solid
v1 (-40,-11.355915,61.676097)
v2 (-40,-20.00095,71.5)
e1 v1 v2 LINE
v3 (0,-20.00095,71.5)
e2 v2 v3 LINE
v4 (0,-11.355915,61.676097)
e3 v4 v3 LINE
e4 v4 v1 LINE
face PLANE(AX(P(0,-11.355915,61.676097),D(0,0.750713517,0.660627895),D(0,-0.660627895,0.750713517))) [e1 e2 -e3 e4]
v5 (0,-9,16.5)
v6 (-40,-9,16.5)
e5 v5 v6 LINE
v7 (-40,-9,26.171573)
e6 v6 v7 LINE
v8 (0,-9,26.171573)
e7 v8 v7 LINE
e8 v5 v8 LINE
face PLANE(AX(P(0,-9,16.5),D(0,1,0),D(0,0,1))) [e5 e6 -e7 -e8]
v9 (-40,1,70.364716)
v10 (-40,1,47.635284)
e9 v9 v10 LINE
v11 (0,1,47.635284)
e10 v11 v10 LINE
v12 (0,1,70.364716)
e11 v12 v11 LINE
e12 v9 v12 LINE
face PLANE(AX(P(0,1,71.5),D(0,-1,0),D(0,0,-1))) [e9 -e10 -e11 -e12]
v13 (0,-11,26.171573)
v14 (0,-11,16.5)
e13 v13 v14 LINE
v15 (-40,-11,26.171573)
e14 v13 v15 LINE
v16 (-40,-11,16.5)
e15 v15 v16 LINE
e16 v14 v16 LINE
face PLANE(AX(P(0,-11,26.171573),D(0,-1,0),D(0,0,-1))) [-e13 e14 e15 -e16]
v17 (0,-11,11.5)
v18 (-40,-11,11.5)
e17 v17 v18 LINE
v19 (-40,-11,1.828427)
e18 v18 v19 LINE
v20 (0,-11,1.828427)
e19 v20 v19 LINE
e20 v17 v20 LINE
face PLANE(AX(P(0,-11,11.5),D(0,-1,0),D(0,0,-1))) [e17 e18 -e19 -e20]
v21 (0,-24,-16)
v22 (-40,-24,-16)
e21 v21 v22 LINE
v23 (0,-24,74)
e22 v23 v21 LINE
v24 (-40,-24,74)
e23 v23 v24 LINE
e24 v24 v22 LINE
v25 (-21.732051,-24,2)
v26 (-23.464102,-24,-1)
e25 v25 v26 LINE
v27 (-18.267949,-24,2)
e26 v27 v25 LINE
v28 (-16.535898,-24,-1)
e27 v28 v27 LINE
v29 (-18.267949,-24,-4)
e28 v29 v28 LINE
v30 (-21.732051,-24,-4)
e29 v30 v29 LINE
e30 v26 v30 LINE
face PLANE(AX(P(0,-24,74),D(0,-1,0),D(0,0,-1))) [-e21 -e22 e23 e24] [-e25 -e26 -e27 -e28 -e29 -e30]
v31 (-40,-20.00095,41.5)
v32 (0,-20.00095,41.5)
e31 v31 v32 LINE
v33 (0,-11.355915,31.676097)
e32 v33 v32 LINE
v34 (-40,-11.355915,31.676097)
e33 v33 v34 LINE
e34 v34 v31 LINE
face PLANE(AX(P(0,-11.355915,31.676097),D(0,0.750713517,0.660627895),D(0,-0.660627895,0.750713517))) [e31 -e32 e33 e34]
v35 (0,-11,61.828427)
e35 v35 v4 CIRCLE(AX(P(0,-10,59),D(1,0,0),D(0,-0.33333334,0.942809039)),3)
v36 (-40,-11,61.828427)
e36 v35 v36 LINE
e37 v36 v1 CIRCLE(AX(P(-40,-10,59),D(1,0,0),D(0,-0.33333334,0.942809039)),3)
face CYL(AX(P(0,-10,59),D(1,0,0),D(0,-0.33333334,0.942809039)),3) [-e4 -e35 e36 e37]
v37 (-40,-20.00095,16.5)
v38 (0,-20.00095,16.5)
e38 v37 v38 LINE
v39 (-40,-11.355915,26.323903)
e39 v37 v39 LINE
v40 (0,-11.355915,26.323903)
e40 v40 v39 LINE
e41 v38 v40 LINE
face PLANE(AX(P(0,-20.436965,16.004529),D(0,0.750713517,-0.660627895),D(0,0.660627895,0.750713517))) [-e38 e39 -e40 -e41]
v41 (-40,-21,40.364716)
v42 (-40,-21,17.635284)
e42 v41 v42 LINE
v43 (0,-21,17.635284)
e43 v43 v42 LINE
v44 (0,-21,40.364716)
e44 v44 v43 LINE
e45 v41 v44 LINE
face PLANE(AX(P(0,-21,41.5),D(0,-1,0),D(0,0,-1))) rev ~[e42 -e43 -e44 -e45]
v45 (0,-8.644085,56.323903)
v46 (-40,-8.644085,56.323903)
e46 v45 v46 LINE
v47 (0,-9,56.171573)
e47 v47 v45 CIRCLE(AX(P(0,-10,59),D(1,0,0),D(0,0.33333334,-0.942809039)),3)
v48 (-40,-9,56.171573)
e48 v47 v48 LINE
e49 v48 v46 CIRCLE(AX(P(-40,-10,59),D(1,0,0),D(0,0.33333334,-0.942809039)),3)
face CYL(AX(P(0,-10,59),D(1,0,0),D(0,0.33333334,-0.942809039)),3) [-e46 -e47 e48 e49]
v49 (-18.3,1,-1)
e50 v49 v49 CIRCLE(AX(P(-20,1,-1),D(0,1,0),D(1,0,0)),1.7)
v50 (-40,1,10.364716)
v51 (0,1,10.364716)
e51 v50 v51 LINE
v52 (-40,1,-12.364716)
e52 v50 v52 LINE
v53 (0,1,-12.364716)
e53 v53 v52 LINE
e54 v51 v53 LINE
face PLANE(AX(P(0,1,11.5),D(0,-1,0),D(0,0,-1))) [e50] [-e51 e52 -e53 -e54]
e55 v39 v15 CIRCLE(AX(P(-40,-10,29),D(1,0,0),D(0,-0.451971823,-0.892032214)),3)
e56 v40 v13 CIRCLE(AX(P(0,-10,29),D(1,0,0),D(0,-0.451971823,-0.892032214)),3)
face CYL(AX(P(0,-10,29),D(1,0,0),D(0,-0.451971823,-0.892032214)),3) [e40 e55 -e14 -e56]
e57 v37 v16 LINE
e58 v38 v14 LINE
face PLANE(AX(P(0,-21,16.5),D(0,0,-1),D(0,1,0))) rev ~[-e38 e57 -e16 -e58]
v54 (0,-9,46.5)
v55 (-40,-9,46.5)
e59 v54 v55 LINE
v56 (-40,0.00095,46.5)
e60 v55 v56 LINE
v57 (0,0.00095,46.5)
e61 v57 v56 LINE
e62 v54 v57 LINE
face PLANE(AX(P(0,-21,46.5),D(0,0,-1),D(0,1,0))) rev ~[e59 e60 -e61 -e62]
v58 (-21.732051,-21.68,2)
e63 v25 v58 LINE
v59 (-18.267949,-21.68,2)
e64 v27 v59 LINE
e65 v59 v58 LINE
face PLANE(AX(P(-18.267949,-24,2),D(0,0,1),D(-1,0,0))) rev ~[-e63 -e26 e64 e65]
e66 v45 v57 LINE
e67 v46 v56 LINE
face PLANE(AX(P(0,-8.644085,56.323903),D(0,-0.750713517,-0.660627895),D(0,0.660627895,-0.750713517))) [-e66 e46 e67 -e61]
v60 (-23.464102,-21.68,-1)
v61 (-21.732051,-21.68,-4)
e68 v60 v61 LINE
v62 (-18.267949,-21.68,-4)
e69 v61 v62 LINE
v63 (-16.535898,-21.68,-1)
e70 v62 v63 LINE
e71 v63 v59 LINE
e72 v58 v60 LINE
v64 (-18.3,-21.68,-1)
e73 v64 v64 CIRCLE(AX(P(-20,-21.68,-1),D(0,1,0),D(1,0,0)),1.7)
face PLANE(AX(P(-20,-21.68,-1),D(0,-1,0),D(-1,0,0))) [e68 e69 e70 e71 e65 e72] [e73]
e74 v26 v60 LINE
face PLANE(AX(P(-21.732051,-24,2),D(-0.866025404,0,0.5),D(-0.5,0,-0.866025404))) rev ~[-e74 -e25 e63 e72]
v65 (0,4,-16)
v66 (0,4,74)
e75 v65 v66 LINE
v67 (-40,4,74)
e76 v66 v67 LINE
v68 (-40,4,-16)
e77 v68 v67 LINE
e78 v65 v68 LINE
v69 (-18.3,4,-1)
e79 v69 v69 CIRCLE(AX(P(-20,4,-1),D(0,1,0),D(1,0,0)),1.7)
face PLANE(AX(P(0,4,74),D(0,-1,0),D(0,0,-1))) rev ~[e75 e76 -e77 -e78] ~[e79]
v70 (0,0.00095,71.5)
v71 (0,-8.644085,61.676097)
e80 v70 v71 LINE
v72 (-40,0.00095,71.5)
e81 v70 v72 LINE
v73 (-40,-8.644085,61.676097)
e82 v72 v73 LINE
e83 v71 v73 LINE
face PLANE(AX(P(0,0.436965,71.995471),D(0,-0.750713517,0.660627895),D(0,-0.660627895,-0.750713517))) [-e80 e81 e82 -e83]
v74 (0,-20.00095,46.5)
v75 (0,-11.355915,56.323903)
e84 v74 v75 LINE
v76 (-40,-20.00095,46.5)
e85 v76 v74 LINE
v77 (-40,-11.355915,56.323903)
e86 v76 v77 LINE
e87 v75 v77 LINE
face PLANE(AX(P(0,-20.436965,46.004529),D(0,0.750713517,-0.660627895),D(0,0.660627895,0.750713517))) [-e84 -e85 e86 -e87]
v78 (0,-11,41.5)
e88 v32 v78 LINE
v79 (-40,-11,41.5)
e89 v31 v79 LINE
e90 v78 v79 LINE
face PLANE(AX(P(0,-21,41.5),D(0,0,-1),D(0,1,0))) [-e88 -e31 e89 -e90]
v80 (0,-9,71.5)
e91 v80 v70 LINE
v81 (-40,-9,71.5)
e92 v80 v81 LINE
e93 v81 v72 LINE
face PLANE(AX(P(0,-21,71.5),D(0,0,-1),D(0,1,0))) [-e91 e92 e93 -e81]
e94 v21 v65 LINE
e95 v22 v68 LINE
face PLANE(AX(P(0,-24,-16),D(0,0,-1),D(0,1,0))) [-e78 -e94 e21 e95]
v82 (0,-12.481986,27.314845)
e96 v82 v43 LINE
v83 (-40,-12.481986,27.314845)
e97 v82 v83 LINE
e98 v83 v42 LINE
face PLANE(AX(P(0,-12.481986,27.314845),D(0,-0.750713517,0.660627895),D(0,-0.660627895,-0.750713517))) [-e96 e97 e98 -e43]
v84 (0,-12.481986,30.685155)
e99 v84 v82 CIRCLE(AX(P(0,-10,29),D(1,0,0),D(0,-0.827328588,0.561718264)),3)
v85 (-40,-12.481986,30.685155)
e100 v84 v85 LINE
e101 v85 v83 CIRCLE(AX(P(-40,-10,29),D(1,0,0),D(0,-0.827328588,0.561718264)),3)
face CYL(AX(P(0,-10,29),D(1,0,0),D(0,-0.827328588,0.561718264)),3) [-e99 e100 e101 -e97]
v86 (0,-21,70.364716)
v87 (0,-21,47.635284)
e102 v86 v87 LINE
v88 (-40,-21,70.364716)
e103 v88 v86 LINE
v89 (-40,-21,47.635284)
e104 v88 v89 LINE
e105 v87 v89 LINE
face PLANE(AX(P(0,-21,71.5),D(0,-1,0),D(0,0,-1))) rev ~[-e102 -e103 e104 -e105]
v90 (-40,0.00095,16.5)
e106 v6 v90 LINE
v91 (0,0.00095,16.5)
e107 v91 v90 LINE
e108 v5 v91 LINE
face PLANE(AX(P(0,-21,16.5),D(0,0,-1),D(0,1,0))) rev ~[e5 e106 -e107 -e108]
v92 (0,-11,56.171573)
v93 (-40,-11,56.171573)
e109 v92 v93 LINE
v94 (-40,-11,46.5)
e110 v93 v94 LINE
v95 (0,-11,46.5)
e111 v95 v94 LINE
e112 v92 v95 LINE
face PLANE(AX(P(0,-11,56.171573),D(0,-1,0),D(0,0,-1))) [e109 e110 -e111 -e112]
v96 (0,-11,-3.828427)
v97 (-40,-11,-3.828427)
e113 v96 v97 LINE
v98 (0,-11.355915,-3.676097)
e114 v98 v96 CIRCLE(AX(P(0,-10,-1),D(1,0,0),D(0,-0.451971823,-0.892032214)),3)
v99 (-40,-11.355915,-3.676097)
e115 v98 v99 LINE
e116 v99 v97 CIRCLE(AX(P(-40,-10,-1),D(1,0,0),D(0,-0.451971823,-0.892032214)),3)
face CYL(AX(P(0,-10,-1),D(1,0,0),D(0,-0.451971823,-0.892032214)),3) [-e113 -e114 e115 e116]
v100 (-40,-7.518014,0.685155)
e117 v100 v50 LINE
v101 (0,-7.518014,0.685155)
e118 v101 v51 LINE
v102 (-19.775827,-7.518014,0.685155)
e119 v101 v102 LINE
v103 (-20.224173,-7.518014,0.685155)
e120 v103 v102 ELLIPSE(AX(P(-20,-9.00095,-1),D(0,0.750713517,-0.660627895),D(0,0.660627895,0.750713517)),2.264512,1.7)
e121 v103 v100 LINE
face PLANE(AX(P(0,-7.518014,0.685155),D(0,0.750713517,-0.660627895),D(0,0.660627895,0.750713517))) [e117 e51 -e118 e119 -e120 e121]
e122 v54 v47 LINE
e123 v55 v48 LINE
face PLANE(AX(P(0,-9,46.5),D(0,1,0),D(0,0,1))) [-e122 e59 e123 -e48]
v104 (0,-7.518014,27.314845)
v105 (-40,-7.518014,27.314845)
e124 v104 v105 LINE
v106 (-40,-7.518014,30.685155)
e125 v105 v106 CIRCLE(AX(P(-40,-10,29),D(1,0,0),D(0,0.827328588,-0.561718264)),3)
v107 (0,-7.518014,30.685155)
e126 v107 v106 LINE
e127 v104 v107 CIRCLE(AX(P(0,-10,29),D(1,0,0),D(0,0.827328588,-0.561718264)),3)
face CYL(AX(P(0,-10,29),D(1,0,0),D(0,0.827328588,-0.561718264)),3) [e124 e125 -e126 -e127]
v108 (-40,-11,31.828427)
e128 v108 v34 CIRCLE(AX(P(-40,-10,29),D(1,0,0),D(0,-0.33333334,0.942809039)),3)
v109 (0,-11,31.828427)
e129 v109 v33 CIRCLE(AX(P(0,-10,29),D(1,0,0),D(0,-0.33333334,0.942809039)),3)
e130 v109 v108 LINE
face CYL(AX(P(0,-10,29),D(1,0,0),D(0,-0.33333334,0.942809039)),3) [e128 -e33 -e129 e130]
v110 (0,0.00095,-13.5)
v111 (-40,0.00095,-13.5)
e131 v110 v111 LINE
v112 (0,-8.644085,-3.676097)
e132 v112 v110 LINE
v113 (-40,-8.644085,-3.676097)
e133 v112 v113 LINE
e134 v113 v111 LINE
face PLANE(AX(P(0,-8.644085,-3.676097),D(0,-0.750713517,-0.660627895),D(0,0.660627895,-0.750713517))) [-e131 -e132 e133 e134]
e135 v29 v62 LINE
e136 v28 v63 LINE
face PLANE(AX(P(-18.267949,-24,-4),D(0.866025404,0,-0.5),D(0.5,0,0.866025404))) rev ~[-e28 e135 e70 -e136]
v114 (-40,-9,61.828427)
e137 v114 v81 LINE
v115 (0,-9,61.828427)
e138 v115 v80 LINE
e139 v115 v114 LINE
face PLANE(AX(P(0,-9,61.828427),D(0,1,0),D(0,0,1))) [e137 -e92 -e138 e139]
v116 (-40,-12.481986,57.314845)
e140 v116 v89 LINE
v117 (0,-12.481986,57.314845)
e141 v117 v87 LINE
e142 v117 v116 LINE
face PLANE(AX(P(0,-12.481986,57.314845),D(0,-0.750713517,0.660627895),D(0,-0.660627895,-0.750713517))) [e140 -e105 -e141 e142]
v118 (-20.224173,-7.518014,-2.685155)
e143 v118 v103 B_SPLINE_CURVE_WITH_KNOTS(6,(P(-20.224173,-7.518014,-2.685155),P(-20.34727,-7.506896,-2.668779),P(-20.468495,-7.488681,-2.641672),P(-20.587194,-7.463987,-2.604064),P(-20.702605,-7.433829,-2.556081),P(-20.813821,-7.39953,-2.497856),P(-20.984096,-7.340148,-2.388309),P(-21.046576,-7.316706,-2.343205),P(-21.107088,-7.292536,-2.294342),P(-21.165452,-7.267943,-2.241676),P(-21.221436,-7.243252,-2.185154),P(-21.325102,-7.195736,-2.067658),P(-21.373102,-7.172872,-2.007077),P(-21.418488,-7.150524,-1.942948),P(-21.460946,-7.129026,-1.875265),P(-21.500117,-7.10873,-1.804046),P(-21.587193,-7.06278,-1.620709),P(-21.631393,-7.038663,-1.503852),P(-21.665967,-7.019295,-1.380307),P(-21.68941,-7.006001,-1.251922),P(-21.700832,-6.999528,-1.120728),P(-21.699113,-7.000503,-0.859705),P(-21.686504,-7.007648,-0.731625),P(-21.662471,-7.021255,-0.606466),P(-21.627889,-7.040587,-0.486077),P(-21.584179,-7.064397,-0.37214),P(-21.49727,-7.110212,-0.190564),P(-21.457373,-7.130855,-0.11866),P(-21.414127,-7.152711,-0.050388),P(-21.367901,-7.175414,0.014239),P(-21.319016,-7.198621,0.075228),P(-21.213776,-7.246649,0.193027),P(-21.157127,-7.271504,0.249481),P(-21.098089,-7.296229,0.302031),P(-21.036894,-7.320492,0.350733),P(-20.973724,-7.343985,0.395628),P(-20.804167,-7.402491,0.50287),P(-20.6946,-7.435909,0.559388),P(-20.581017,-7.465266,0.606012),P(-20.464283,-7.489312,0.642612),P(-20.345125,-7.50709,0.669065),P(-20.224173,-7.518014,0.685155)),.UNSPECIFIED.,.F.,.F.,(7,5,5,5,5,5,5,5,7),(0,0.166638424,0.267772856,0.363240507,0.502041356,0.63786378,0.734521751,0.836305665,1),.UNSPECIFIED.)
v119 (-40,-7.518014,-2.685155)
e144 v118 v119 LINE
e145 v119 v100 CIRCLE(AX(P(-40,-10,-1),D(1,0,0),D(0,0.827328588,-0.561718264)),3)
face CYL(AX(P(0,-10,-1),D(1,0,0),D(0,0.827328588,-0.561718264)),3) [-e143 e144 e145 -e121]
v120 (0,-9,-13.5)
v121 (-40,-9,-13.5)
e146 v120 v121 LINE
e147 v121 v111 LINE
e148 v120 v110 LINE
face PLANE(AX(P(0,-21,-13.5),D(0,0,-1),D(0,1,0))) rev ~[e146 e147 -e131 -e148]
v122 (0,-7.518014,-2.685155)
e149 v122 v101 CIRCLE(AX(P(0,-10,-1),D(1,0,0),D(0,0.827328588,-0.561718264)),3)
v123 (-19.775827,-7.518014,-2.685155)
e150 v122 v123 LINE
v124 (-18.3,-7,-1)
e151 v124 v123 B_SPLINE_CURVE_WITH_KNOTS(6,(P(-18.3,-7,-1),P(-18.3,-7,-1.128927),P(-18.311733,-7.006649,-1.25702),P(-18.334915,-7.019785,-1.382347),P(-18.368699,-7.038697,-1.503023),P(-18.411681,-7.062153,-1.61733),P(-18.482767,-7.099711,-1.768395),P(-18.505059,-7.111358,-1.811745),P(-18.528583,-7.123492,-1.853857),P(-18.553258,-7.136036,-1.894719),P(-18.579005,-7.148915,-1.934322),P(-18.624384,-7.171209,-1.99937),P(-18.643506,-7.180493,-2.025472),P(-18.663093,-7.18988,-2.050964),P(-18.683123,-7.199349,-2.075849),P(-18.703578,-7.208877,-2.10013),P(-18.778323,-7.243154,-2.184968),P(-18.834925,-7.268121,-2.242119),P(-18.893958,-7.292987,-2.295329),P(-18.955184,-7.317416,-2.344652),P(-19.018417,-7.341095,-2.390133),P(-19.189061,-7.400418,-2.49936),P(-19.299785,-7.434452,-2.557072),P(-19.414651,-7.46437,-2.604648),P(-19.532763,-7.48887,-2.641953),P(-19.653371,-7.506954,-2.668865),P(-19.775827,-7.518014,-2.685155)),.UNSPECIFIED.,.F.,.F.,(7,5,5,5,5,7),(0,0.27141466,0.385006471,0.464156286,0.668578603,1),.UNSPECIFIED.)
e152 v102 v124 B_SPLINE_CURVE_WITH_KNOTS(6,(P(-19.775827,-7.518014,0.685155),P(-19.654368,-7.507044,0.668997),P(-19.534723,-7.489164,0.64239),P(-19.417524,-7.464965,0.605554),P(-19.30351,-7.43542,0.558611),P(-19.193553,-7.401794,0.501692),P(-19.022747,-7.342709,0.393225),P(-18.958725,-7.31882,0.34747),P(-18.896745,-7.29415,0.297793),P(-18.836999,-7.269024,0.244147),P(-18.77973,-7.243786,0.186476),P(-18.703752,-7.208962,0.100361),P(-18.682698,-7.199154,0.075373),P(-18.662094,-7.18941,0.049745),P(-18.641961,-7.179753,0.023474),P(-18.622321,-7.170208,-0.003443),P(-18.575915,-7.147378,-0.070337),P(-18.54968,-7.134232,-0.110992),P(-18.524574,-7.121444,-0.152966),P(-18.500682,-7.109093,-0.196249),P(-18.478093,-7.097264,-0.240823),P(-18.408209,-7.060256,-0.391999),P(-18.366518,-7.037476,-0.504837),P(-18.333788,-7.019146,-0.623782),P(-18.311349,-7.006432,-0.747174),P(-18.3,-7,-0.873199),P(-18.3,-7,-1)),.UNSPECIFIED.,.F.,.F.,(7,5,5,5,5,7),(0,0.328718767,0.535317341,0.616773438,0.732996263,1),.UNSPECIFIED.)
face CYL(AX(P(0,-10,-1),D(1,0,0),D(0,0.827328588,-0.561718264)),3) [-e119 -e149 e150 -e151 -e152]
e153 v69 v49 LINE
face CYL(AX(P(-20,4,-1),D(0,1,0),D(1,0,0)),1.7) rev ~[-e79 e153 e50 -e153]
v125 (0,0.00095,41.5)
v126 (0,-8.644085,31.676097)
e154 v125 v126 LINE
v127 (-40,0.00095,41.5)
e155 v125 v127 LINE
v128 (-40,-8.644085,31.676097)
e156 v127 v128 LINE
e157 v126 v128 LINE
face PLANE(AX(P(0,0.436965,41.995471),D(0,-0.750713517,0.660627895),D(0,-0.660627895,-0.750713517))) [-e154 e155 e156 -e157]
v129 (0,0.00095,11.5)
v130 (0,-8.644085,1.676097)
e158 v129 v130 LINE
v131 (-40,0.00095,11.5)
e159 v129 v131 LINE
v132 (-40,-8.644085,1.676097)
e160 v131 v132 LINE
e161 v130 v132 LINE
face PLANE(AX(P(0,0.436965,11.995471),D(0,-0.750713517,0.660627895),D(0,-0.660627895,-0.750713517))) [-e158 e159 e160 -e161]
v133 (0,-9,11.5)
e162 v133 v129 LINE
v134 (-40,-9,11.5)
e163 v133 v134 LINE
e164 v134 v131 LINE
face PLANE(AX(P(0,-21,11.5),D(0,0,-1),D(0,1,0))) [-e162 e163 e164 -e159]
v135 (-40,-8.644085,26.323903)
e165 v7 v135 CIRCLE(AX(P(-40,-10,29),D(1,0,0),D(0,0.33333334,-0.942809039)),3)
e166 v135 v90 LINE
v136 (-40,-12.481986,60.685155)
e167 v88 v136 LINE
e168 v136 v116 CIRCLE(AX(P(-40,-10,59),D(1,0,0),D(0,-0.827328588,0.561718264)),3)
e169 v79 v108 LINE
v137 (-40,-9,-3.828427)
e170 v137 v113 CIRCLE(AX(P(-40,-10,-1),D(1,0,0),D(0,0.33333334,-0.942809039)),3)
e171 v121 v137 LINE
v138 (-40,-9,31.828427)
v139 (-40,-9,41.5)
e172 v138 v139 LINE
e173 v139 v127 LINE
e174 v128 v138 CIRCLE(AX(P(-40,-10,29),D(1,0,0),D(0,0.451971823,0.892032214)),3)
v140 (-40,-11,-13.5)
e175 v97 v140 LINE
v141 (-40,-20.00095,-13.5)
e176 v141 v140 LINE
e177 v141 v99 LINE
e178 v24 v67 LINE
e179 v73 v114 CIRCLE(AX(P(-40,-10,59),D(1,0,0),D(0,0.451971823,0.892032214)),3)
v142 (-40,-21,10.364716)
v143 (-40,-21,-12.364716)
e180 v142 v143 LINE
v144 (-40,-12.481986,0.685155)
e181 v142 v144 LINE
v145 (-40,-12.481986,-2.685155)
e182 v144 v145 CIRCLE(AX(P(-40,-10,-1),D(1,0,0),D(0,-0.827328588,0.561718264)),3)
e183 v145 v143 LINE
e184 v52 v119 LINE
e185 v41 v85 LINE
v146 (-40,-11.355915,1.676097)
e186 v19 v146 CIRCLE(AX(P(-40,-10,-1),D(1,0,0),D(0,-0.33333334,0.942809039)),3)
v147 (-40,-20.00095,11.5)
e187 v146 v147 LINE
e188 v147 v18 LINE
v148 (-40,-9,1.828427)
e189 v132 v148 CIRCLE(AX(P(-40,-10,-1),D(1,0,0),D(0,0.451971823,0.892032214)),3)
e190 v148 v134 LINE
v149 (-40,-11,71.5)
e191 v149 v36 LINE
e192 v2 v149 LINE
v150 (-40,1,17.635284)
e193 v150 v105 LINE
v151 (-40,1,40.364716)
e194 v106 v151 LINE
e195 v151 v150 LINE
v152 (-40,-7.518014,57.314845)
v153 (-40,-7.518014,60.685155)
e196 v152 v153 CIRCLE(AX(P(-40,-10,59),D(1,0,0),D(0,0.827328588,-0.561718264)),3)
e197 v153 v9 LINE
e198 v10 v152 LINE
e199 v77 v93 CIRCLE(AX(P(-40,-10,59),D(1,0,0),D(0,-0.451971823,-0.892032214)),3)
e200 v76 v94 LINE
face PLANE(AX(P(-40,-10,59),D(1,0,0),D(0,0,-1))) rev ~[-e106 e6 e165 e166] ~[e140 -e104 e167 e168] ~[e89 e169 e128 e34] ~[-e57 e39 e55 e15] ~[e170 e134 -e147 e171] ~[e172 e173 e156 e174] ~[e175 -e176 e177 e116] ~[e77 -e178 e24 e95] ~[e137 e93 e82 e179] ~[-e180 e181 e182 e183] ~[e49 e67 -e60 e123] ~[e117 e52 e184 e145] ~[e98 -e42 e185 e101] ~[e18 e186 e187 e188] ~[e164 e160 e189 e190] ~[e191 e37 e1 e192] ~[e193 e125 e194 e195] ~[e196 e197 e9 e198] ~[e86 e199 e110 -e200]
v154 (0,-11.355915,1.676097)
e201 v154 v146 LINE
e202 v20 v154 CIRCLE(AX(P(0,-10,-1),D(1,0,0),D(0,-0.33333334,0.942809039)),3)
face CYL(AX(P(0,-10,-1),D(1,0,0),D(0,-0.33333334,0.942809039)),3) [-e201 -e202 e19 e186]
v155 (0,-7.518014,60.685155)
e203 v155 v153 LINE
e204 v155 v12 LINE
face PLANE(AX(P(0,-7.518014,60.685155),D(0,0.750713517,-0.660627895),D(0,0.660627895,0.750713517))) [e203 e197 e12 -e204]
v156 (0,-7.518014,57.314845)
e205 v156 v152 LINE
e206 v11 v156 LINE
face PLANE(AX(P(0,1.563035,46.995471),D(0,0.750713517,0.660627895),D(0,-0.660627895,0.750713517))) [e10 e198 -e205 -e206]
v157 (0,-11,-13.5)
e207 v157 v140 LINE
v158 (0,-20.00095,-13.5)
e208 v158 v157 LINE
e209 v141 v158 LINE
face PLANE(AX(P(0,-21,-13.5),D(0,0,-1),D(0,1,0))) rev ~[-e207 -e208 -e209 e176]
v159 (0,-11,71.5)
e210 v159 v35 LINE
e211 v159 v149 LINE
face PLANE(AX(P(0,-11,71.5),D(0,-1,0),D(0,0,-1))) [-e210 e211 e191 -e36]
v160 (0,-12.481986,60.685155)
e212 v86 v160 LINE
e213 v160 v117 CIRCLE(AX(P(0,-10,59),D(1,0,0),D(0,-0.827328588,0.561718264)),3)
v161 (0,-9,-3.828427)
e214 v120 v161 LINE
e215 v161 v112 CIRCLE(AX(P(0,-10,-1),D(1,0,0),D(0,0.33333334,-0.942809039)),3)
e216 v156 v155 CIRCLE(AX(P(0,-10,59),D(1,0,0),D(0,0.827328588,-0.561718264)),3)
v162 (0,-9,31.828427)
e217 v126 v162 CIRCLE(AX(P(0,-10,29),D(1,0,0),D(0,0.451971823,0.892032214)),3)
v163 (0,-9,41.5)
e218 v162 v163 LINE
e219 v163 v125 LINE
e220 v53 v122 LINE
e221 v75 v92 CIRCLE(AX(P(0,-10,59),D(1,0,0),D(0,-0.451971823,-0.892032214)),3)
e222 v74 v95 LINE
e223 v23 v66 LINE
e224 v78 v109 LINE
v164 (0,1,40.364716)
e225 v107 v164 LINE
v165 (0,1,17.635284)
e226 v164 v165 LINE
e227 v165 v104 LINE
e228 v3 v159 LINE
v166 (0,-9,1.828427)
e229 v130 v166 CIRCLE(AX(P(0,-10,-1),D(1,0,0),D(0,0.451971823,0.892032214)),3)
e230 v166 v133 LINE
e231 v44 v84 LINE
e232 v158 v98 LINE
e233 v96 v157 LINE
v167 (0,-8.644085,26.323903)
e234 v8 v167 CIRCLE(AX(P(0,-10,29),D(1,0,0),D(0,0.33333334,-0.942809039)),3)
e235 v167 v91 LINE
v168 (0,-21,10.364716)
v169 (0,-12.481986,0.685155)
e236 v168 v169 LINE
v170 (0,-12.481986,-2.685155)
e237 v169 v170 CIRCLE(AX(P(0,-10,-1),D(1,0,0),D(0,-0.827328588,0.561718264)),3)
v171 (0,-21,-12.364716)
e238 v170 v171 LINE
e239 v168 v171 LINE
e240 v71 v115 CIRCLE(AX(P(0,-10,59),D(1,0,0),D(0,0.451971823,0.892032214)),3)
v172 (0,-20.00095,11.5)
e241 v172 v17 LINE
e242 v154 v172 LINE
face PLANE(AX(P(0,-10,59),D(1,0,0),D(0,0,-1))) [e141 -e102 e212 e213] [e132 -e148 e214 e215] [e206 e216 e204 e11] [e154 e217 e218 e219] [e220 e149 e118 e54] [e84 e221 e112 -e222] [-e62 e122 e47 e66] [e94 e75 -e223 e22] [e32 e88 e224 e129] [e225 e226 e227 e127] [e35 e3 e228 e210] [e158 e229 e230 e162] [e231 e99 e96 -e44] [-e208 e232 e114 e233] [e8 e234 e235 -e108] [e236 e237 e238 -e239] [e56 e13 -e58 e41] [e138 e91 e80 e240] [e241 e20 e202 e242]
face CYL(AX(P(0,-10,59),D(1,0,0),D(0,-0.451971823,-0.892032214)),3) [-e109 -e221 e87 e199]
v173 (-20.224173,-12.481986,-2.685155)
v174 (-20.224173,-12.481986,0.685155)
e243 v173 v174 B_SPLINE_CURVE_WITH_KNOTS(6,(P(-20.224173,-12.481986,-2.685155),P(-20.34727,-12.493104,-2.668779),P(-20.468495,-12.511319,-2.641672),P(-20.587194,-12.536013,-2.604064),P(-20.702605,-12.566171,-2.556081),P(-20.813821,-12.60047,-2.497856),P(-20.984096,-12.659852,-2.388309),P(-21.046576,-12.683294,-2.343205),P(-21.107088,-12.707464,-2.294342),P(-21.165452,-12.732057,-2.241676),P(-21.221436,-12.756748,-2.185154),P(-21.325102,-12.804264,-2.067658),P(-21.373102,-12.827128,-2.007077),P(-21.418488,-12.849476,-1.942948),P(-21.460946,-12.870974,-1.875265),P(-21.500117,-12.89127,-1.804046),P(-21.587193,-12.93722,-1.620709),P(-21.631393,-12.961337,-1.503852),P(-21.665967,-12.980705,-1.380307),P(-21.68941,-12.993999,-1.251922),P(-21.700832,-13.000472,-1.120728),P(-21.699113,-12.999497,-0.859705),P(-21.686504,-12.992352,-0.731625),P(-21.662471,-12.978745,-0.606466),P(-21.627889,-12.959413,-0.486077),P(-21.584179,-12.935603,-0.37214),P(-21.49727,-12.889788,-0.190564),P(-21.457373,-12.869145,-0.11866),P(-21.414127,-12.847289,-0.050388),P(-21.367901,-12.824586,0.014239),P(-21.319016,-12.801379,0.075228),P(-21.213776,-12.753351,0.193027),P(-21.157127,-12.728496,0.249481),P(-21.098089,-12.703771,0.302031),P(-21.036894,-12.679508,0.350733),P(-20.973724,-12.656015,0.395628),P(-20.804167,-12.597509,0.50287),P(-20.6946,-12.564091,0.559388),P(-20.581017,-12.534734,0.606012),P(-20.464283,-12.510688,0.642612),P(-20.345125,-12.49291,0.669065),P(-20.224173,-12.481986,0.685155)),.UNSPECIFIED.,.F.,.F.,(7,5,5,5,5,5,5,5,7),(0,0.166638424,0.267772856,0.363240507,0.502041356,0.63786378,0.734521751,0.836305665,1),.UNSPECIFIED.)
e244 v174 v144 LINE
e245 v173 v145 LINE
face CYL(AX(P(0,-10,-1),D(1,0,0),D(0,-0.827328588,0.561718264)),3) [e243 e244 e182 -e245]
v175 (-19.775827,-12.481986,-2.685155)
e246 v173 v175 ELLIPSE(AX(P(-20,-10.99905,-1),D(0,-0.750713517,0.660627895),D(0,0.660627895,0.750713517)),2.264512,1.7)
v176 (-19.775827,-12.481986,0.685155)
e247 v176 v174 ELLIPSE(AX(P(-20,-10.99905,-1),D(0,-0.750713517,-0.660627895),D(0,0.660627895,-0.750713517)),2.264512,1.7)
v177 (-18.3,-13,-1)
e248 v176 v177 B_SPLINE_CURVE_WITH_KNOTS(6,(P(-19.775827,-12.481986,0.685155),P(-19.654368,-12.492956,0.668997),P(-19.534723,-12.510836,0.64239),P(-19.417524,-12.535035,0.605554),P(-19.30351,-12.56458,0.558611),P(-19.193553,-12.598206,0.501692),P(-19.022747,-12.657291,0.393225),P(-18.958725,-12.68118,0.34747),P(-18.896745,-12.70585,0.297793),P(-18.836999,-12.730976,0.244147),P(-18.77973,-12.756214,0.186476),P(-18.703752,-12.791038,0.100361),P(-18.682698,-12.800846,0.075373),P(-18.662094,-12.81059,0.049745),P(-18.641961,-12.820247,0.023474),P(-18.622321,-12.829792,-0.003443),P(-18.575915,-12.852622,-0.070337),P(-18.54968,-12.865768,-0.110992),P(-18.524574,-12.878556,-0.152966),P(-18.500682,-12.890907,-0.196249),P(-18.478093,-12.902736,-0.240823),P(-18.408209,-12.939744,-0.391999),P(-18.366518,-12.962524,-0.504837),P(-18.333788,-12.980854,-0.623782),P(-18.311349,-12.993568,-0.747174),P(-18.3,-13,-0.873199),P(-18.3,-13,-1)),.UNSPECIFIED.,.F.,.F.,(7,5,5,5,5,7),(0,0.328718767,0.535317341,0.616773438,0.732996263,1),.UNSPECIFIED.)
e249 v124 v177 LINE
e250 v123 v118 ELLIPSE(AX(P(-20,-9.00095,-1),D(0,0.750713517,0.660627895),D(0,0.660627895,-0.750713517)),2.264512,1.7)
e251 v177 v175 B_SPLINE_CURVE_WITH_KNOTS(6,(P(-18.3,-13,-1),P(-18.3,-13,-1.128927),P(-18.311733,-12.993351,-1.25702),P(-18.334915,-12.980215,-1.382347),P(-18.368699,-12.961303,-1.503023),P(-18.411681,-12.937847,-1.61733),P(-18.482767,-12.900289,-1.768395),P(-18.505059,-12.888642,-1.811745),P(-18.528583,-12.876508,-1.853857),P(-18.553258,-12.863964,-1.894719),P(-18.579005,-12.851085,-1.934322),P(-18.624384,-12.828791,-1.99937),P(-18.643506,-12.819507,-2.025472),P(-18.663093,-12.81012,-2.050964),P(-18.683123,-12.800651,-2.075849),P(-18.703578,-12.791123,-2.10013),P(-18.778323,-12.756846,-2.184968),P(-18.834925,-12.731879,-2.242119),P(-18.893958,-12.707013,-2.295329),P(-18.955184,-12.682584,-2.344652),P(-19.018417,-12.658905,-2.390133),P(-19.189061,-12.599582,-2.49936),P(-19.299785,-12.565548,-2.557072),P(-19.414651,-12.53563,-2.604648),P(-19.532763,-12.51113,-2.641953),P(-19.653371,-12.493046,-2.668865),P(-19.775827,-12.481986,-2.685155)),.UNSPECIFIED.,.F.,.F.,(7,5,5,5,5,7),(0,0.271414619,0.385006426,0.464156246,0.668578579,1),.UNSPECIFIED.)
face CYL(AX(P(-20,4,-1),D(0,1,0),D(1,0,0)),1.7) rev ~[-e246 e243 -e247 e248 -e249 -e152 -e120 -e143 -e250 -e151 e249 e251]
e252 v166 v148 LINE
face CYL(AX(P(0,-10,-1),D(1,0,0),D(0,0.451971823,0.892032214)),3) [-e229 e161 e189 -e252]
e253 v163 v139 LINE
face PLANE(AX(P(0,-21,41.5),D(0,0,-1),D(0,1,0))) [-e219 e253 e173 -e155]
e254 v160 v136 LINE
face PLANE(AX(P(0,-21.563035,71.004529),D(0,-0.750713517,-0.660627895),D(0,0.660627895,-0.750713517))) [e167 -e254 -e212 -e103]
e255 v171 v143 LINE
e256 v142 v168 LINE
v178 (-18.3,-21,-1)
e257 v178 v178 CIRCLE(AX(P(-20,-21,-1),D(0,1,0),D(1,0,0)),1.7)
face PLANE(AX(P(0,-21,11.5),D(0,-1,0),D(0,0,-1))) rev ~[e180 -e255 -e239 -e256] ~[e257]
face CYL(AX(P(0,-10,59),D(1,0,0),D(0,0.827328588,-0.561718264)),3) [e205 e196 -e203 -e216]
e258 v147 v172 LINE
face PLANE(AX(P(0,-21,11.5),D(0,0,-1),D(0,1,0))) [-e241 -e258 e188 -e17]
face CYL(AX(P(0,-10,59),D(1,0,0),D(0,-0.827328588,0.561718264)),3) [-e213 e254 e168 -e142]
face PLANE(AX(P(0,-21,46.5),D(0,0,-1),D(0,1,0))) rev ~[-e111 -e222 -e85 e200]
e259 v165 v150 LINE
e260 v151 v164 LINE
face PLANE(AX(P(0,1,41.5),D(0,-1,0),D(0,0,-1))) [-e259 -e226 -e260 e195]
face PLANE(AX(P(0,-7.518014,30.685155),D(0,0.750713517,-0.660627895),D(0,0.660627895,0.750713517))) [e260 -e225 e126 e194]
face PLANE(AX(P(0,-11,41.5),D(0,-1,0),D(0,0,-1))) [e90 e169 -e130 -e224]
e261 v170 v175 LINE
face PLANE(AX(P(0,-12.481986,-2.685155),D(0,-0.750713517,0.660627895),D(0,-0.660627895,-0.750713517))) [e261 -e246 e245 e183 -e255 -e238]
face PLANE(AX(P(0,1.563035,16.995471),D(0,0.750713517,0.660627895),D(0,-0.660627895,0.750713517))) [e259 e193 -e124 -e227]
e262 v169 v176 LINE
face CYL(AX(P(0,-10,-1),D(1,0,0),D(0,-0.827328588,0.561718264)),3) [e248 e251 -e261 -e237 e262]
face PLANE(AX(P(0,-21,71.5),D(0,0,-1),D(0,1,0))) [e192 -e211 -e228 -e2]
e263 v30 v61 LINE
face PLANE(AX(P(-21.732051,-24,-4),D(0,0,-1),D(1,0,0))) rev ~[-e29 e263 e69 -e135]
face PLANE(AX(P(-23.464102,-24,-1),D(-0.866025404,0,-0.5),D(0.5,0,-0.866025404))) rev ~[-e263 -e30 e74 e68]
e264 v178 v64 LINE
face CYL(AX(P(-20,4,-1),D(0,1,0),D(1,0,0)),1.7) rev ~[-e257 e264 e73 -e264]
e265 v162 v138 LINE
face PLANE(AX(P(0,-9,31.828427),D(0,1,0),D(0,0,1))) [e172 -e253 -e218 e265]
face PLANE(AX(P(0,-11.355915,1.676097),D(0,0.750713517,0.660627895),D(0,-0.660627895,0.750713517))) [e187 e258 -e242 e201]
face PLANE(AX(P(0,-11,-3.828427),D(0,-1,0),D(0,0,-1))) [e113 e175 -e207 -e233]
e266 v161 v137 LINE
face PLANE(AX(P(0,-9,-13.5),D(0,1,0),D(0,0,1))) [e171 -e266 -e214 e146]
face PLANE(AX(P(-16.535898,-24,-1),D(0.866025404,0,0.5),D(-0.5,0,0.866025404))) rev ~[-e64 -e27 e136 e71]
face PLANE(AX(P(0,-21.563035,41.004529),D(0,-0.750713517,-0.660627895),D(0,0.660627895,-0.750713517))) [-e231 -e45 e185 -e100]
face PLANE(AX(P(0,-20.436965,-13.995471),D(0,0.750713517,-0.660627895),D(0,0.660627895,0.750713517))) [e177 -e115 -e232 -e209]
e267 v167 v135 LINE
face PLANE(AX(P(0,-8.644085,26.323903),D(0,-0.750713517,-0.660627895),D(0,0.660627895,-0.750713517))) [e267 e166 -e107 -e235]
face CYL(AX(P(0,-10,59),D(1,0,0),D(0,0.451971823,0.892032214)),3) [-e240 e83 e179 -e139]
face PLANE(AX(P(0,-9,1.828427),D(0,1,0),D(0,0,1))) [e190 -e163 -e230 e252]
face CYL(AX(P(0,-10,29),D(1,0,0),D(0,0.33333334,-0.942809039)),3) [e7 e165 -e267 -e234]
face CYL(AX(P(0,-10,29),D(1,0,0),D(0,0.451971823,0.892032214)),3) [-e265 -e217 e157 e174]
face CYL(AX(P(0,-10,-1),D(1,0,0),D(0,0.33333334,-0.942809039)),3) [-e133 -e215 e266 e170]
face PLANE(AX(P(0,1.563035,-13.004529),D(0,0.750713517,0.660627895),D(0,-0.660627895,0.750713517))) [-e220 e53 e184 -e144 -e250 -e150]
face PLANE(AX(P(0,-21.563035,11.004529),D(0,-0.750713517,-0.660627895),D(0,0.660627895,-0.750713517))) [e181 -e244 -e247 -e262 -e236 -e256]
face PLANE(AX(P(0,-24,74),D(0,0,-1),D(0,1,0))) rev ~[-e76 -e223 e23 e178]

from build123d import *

# Parameters (mm, degrees)
SKETCH19_W          = 30
SKETCH19_H          = 28
SKETCH19_W_2        = 25
SKETCH19_H_2        = 22
BOSS_EXTRUDE1_DEPTH = 40
BOSS_EXTRUDE2_DEPTH = 40
LPATTERN2_COUNT     = 3
LPATTERN2_PITCH     = 30
SKETCH22_R          = 1.7
CUT_EXTRUDE1_DEPTH  = 29
CUT_EXTRUDE2_DEPTH  = 2.32


with BuildPart() as part:
    # Sketch19 → Boss-Extrude1 (new body)
    with BuildSketch(Plane(origin=(0, 0, 0), x_dir=(0, 0, -1), z_dir=(1, 0, 0))):
        with Locations((1, -10)):
            Rectangle(SKETCH19_W, SKETCH19_H)
        with Locations((1, -10)):
            Rectangle(SKETCH19_W_2, SKETCH19_H_2, mode=Mode.SUBTRACT)
    extrude(amount=-BOSS_EXTRUDE1_DEPTH)

    # Sketch21 → Boss-Extrude2 (add)
    with BuildSketch(Plane(origin=(0, 0, 0), x_dir=(0, 0, -1), z_dir=(1, 0, 0))):
        with BuildLine():
            Line((-11.995470921, 0.436964862), (-1.676096633, -8.644084511))
            ThreePointArc((-1.676096633, -8.644084511), (-1.252140551, -8.018116315), (-0.68515479, -7.518014236))
            Line((-0.68515479, -7.518014236), (-11.004529079, 1.563035138))
            Line((-11.004529079, 1.563035138), (-11.995470921, 0.436964862))
        make_face()
        with BuildLine():
            Line((13.004529079, 1.563035138), (2.68515479, -7.518014236))
            ThreePointArc((2.68515479, -7.518014236), (3.252140551, -8.018116315), (3.676096633, -8.644084511))
            Line((3.676096633, -8.644084511), (13.995470921, 0.436964862))
            Line((13.995470921, 0.436964862), (13.004529079, 1.563035138))
        make_face()
        with BuildLine():
            Line((-1.828427125, -9), (-11.5, -9))
            Line((-11.5, -9), (-11.5, -11))
            Line((-11.5, -11), (-1.828427125, -11))
            ThreePointArc((-1.828427125, -11), (-2, -10), (-1.828427125, -9))
        make_face()
        with BuildLine():
            Line((13.5, -9), (3.828427125, -9))
            ThreePointArc((3.828427125, -9), (3.956795679, -9.492694064), (4, -10))
            ThreePointArc((4, -10), (3.956795679, -10.507305936), (3.828427125, -11))
            Line((3.828427125, -11), (13.5, -11))
            Line((13.5, -11), (13.5, -9))
        make_face()
        with BuildLine():
            ThreePointArc((-0.68515479, -12.481985764), (-1.252140551, -11.981883685), (-1.676096633, -11.355915489))
            Line((-1.676096633, -11.355915489), (-11.995470921, -20.436964862))
            Line((-11.995470921, -20.436964862), (-11.004529079, -21.563035138))
            Line((-11.004529079, -21.563035138), (-0.68515479, -12.481985764))
        make_face()
        with BuildLine():
            ThreePointArc((3.676096633, -11.355915489), (3.252140551, -11.981883685), (2.68515479, -12.481985764))
            Line((2.68515479, -12.481985764), (13.004529079, -21.563035138))
            Line((13.004529079, -21.563035138), (13.995470921, -20.436964862))
            Line((13.995470921, -20.436964862), (3.676096633, -11.355915489))
        make_face()
        with BuildLine():
            Line((-1.271647214, -9), (-1.828427125, -9))
            ThreePointArc((-1.828427125, -9), (-2, -10), (-1.828427125, -11))
            Line((-1.828427125, -11), (-1.271647214, -11))
            Line((-1.271647214, -11), (-0.135283578, -10))
            Line((-0.135283578, -10), (-1.271647214, -9))
        make_face()
        with BuildLine():
            Line((3.828427125, -9), (3.271647214, -9))
            Line((3.271647214, -9), (2.135283578, -10))
            Line((2.135283578, -10), (3.271647214, -11))
            Line((3.271647214, -11), (3.828427125, -11))
            ThreePointArc((3.828427125, -11), (3.956795679, -10.507305936), (4, -10))
            ThreePointArc((4, -10), (3.956795679, -9.492694064), (3.828427125, -9))
        make_face()
        with BuildLine():
            ThreePointArc((-1.676096633, -8.644084511), (-1.758009138, -8.81958245), (-1.828427125, -9))
            Line((-1.828427125, -9), (-1.271647214, -9))
            Line((-1.271647214, -9), (-1.676096633, -8.644084511))
        make_face()
        with BuildLine():
            Line((-1.676096633, -8.644084511), (-1.271647214, -9))
            Line((-1.271647214, -9), (0.998919941, -9))
            Line((0.998919941, -9), (-0.68515479, -7.518014236))
            ThreePointArc((-0.68515479, -7.518014236), (-1.252140551, -8.018116315), (-1.676096633, -8.644084511))
        make_face()
        Polygon((0.998919941, -9), (-1.271647214, -9), (-0.135283578, -10), (1, -9.000950452), align=None)
        with BuildLine():
            Line((-1.271647214, -11), (-1.828427125, -11))
            ThreePointArc((-1.828427125, -11), (-1.758009138, -11.18041755), (-1.676096633, -11.355915489))
            Line((-1.676096633, -11.355915489), (-1.271647214, -11))
        make_face()
        with BuildLine():
            Line((-0.68515479, -7.518014236), (0.998919941, -9))
            Line((0.998919941, -9), (1.001080059, -9))
            Line((1.001080059, -9), (2.68515479, -7.518014236))
            ThreePointArc((2.68515479, -7.518014236), (1, -7), (-0.68515479, -7.518014236))
        make_face()
        Polygon((1.001080059, -9), (0.998919941, -9), (1, -9.000950452), align=None)
        Polygon((1, -10.999049548), (-0.135283578, -10), (-1.271647214, -11), (0.998919941, -11), align=None)
        Polygon((1, -9.000950452), (-0.135283578, -10), (1, -10.999049548), (2.135283578, -10), align=None)
        with BuildLine():
            Line((0.998919941, -11), (-1.271647214, -11))
            Line((-1.271647214, -11), (-1.676096633, -11.355915489))
            ThreePointArc((-1.676096633, -11.355915489), (-1.252140551, -11.981883685), (-0.68515479, -12.481985764))
            Line((-0.68515479, -12.481985764), (0.998919941, -11))
        make_face()
        with BuildLine():
            Line((2.68515479, -7.518014236), (1.001080059, -9))
            Line((1.001080059, -9), (3.271647214, -9))
            Line((3.271647214, -9), (3.676096633, -8.644084511))
            ThreePointArc((3.676096633, -8.644084511), (3.252140551, -8.018116315), (2.68515479, -7.518014236))
        make_face()
        Polygon((3.271647214, -9), (1.001080059, -9), (1, -9.000950452), (2.135283578, -10), align=None)
        Polygon((1.001080059, -11), (1, -10.999049548), (0.998919941, -11), align=None)
        Polygon((2.135283578, -10), (1, -10.999049548), (1.001080059, -11), (3.271647214, -11), align=None)
        with BuildLine():
            Line((1.001080059, -11), (0.998919941, -11))
            Line((0.998919941, -11), (-0.68515479, -12.481985764))
            ThreePointArc((-0.68515479, -12.481985764), (1, -13), (2.68515479, -12.481985764))
            Line((2.68515479, -12.481985764), (1.001080059, -11))
        make_face()
        with BuildLine():
            Line((3.676096633, -8.644084511), (3.271647214, -9))
            Line((3.271647214, -9), (3.828427125, -9))
            ThreePointArc((3.828427125, -9), (3.758009138, -8.81958245), (3.676096633, -8.644084511))
        make_face()
        with BuildLine():
            Line((3.271647214, -11), (1.001080059, -11))
            Line((1.001080059, -11), (2.68515479, -12.481985764))
            ThreePointArc((2.68515479, -12.481985764), (3.252140551, -11.981883685), (3.676096633, -11.355915489))
            Line((3.676096633, -11.355915489), (3.271647214, -11))
        make_face()
        with BuildLine():
            Line((3.828427125, -11), (3.271647214, -11))
            Line((3.271647214, -11), (3.676096633, -11.355915489))
            ThreePointArc((3.676096633, -11.355915489), (3.758009138, -11.18041755), (3.828427125, -11))
        make_face()
    extrude(amount=-BOSS_EXTRUDE2_DEPTH)


with BuildPart() as lpattern2_1:
    # LPattern2: pattern copy
    add(part.part.moved(Location(Vector(0, 0, 1) * (1 * LPATTERN2_PITCH))))


with BuildPart() as lpattern2_2:
    # LPattern2: pattern copy
    add(part.part.moved(Location(Vector(0, 0, 1) * (2 * LPATTERN2_PITCH))))


with BuildPart() as part_1:
    add(part.part)

    # Sketch22 → Cut-Extrude1 (cut, through all)
    with BuildSketch(Plane(origin=(0, 4, 0), x_dir=(1, 0, 0), z_dir=(0, 1, 0))):
        with Locations((-20, 1)):
            Circle(SKETCH22_R)
    extrude(amount=-CUT_EXTRUDE1_DEPTH, mode=Mode.SUBTRACT)

    # Sketch32 → Cut-Extrude2 (cut)
    with BuildSketch(Plane(origin=(0, -24, 0), x_dir=(-1, 0, 0), z_dir=(0, -1, 0))):
        Polygon((16.535898385, 1), (18.267949192, -2), (21.732050808, -2), (23.464101615, 1), (21.732050808, 4), (18.267949192, 4), align=None)
    extrude(amount=-CUT_EXTRUDE2_DEPTH, mode=Mode.SUBTRACT)

    # Combine1: union LPattern2_1, LPattern2_2
    add(lpattern2_1.part)
    add(lpattern2_2.part)


solid = part_1.part
